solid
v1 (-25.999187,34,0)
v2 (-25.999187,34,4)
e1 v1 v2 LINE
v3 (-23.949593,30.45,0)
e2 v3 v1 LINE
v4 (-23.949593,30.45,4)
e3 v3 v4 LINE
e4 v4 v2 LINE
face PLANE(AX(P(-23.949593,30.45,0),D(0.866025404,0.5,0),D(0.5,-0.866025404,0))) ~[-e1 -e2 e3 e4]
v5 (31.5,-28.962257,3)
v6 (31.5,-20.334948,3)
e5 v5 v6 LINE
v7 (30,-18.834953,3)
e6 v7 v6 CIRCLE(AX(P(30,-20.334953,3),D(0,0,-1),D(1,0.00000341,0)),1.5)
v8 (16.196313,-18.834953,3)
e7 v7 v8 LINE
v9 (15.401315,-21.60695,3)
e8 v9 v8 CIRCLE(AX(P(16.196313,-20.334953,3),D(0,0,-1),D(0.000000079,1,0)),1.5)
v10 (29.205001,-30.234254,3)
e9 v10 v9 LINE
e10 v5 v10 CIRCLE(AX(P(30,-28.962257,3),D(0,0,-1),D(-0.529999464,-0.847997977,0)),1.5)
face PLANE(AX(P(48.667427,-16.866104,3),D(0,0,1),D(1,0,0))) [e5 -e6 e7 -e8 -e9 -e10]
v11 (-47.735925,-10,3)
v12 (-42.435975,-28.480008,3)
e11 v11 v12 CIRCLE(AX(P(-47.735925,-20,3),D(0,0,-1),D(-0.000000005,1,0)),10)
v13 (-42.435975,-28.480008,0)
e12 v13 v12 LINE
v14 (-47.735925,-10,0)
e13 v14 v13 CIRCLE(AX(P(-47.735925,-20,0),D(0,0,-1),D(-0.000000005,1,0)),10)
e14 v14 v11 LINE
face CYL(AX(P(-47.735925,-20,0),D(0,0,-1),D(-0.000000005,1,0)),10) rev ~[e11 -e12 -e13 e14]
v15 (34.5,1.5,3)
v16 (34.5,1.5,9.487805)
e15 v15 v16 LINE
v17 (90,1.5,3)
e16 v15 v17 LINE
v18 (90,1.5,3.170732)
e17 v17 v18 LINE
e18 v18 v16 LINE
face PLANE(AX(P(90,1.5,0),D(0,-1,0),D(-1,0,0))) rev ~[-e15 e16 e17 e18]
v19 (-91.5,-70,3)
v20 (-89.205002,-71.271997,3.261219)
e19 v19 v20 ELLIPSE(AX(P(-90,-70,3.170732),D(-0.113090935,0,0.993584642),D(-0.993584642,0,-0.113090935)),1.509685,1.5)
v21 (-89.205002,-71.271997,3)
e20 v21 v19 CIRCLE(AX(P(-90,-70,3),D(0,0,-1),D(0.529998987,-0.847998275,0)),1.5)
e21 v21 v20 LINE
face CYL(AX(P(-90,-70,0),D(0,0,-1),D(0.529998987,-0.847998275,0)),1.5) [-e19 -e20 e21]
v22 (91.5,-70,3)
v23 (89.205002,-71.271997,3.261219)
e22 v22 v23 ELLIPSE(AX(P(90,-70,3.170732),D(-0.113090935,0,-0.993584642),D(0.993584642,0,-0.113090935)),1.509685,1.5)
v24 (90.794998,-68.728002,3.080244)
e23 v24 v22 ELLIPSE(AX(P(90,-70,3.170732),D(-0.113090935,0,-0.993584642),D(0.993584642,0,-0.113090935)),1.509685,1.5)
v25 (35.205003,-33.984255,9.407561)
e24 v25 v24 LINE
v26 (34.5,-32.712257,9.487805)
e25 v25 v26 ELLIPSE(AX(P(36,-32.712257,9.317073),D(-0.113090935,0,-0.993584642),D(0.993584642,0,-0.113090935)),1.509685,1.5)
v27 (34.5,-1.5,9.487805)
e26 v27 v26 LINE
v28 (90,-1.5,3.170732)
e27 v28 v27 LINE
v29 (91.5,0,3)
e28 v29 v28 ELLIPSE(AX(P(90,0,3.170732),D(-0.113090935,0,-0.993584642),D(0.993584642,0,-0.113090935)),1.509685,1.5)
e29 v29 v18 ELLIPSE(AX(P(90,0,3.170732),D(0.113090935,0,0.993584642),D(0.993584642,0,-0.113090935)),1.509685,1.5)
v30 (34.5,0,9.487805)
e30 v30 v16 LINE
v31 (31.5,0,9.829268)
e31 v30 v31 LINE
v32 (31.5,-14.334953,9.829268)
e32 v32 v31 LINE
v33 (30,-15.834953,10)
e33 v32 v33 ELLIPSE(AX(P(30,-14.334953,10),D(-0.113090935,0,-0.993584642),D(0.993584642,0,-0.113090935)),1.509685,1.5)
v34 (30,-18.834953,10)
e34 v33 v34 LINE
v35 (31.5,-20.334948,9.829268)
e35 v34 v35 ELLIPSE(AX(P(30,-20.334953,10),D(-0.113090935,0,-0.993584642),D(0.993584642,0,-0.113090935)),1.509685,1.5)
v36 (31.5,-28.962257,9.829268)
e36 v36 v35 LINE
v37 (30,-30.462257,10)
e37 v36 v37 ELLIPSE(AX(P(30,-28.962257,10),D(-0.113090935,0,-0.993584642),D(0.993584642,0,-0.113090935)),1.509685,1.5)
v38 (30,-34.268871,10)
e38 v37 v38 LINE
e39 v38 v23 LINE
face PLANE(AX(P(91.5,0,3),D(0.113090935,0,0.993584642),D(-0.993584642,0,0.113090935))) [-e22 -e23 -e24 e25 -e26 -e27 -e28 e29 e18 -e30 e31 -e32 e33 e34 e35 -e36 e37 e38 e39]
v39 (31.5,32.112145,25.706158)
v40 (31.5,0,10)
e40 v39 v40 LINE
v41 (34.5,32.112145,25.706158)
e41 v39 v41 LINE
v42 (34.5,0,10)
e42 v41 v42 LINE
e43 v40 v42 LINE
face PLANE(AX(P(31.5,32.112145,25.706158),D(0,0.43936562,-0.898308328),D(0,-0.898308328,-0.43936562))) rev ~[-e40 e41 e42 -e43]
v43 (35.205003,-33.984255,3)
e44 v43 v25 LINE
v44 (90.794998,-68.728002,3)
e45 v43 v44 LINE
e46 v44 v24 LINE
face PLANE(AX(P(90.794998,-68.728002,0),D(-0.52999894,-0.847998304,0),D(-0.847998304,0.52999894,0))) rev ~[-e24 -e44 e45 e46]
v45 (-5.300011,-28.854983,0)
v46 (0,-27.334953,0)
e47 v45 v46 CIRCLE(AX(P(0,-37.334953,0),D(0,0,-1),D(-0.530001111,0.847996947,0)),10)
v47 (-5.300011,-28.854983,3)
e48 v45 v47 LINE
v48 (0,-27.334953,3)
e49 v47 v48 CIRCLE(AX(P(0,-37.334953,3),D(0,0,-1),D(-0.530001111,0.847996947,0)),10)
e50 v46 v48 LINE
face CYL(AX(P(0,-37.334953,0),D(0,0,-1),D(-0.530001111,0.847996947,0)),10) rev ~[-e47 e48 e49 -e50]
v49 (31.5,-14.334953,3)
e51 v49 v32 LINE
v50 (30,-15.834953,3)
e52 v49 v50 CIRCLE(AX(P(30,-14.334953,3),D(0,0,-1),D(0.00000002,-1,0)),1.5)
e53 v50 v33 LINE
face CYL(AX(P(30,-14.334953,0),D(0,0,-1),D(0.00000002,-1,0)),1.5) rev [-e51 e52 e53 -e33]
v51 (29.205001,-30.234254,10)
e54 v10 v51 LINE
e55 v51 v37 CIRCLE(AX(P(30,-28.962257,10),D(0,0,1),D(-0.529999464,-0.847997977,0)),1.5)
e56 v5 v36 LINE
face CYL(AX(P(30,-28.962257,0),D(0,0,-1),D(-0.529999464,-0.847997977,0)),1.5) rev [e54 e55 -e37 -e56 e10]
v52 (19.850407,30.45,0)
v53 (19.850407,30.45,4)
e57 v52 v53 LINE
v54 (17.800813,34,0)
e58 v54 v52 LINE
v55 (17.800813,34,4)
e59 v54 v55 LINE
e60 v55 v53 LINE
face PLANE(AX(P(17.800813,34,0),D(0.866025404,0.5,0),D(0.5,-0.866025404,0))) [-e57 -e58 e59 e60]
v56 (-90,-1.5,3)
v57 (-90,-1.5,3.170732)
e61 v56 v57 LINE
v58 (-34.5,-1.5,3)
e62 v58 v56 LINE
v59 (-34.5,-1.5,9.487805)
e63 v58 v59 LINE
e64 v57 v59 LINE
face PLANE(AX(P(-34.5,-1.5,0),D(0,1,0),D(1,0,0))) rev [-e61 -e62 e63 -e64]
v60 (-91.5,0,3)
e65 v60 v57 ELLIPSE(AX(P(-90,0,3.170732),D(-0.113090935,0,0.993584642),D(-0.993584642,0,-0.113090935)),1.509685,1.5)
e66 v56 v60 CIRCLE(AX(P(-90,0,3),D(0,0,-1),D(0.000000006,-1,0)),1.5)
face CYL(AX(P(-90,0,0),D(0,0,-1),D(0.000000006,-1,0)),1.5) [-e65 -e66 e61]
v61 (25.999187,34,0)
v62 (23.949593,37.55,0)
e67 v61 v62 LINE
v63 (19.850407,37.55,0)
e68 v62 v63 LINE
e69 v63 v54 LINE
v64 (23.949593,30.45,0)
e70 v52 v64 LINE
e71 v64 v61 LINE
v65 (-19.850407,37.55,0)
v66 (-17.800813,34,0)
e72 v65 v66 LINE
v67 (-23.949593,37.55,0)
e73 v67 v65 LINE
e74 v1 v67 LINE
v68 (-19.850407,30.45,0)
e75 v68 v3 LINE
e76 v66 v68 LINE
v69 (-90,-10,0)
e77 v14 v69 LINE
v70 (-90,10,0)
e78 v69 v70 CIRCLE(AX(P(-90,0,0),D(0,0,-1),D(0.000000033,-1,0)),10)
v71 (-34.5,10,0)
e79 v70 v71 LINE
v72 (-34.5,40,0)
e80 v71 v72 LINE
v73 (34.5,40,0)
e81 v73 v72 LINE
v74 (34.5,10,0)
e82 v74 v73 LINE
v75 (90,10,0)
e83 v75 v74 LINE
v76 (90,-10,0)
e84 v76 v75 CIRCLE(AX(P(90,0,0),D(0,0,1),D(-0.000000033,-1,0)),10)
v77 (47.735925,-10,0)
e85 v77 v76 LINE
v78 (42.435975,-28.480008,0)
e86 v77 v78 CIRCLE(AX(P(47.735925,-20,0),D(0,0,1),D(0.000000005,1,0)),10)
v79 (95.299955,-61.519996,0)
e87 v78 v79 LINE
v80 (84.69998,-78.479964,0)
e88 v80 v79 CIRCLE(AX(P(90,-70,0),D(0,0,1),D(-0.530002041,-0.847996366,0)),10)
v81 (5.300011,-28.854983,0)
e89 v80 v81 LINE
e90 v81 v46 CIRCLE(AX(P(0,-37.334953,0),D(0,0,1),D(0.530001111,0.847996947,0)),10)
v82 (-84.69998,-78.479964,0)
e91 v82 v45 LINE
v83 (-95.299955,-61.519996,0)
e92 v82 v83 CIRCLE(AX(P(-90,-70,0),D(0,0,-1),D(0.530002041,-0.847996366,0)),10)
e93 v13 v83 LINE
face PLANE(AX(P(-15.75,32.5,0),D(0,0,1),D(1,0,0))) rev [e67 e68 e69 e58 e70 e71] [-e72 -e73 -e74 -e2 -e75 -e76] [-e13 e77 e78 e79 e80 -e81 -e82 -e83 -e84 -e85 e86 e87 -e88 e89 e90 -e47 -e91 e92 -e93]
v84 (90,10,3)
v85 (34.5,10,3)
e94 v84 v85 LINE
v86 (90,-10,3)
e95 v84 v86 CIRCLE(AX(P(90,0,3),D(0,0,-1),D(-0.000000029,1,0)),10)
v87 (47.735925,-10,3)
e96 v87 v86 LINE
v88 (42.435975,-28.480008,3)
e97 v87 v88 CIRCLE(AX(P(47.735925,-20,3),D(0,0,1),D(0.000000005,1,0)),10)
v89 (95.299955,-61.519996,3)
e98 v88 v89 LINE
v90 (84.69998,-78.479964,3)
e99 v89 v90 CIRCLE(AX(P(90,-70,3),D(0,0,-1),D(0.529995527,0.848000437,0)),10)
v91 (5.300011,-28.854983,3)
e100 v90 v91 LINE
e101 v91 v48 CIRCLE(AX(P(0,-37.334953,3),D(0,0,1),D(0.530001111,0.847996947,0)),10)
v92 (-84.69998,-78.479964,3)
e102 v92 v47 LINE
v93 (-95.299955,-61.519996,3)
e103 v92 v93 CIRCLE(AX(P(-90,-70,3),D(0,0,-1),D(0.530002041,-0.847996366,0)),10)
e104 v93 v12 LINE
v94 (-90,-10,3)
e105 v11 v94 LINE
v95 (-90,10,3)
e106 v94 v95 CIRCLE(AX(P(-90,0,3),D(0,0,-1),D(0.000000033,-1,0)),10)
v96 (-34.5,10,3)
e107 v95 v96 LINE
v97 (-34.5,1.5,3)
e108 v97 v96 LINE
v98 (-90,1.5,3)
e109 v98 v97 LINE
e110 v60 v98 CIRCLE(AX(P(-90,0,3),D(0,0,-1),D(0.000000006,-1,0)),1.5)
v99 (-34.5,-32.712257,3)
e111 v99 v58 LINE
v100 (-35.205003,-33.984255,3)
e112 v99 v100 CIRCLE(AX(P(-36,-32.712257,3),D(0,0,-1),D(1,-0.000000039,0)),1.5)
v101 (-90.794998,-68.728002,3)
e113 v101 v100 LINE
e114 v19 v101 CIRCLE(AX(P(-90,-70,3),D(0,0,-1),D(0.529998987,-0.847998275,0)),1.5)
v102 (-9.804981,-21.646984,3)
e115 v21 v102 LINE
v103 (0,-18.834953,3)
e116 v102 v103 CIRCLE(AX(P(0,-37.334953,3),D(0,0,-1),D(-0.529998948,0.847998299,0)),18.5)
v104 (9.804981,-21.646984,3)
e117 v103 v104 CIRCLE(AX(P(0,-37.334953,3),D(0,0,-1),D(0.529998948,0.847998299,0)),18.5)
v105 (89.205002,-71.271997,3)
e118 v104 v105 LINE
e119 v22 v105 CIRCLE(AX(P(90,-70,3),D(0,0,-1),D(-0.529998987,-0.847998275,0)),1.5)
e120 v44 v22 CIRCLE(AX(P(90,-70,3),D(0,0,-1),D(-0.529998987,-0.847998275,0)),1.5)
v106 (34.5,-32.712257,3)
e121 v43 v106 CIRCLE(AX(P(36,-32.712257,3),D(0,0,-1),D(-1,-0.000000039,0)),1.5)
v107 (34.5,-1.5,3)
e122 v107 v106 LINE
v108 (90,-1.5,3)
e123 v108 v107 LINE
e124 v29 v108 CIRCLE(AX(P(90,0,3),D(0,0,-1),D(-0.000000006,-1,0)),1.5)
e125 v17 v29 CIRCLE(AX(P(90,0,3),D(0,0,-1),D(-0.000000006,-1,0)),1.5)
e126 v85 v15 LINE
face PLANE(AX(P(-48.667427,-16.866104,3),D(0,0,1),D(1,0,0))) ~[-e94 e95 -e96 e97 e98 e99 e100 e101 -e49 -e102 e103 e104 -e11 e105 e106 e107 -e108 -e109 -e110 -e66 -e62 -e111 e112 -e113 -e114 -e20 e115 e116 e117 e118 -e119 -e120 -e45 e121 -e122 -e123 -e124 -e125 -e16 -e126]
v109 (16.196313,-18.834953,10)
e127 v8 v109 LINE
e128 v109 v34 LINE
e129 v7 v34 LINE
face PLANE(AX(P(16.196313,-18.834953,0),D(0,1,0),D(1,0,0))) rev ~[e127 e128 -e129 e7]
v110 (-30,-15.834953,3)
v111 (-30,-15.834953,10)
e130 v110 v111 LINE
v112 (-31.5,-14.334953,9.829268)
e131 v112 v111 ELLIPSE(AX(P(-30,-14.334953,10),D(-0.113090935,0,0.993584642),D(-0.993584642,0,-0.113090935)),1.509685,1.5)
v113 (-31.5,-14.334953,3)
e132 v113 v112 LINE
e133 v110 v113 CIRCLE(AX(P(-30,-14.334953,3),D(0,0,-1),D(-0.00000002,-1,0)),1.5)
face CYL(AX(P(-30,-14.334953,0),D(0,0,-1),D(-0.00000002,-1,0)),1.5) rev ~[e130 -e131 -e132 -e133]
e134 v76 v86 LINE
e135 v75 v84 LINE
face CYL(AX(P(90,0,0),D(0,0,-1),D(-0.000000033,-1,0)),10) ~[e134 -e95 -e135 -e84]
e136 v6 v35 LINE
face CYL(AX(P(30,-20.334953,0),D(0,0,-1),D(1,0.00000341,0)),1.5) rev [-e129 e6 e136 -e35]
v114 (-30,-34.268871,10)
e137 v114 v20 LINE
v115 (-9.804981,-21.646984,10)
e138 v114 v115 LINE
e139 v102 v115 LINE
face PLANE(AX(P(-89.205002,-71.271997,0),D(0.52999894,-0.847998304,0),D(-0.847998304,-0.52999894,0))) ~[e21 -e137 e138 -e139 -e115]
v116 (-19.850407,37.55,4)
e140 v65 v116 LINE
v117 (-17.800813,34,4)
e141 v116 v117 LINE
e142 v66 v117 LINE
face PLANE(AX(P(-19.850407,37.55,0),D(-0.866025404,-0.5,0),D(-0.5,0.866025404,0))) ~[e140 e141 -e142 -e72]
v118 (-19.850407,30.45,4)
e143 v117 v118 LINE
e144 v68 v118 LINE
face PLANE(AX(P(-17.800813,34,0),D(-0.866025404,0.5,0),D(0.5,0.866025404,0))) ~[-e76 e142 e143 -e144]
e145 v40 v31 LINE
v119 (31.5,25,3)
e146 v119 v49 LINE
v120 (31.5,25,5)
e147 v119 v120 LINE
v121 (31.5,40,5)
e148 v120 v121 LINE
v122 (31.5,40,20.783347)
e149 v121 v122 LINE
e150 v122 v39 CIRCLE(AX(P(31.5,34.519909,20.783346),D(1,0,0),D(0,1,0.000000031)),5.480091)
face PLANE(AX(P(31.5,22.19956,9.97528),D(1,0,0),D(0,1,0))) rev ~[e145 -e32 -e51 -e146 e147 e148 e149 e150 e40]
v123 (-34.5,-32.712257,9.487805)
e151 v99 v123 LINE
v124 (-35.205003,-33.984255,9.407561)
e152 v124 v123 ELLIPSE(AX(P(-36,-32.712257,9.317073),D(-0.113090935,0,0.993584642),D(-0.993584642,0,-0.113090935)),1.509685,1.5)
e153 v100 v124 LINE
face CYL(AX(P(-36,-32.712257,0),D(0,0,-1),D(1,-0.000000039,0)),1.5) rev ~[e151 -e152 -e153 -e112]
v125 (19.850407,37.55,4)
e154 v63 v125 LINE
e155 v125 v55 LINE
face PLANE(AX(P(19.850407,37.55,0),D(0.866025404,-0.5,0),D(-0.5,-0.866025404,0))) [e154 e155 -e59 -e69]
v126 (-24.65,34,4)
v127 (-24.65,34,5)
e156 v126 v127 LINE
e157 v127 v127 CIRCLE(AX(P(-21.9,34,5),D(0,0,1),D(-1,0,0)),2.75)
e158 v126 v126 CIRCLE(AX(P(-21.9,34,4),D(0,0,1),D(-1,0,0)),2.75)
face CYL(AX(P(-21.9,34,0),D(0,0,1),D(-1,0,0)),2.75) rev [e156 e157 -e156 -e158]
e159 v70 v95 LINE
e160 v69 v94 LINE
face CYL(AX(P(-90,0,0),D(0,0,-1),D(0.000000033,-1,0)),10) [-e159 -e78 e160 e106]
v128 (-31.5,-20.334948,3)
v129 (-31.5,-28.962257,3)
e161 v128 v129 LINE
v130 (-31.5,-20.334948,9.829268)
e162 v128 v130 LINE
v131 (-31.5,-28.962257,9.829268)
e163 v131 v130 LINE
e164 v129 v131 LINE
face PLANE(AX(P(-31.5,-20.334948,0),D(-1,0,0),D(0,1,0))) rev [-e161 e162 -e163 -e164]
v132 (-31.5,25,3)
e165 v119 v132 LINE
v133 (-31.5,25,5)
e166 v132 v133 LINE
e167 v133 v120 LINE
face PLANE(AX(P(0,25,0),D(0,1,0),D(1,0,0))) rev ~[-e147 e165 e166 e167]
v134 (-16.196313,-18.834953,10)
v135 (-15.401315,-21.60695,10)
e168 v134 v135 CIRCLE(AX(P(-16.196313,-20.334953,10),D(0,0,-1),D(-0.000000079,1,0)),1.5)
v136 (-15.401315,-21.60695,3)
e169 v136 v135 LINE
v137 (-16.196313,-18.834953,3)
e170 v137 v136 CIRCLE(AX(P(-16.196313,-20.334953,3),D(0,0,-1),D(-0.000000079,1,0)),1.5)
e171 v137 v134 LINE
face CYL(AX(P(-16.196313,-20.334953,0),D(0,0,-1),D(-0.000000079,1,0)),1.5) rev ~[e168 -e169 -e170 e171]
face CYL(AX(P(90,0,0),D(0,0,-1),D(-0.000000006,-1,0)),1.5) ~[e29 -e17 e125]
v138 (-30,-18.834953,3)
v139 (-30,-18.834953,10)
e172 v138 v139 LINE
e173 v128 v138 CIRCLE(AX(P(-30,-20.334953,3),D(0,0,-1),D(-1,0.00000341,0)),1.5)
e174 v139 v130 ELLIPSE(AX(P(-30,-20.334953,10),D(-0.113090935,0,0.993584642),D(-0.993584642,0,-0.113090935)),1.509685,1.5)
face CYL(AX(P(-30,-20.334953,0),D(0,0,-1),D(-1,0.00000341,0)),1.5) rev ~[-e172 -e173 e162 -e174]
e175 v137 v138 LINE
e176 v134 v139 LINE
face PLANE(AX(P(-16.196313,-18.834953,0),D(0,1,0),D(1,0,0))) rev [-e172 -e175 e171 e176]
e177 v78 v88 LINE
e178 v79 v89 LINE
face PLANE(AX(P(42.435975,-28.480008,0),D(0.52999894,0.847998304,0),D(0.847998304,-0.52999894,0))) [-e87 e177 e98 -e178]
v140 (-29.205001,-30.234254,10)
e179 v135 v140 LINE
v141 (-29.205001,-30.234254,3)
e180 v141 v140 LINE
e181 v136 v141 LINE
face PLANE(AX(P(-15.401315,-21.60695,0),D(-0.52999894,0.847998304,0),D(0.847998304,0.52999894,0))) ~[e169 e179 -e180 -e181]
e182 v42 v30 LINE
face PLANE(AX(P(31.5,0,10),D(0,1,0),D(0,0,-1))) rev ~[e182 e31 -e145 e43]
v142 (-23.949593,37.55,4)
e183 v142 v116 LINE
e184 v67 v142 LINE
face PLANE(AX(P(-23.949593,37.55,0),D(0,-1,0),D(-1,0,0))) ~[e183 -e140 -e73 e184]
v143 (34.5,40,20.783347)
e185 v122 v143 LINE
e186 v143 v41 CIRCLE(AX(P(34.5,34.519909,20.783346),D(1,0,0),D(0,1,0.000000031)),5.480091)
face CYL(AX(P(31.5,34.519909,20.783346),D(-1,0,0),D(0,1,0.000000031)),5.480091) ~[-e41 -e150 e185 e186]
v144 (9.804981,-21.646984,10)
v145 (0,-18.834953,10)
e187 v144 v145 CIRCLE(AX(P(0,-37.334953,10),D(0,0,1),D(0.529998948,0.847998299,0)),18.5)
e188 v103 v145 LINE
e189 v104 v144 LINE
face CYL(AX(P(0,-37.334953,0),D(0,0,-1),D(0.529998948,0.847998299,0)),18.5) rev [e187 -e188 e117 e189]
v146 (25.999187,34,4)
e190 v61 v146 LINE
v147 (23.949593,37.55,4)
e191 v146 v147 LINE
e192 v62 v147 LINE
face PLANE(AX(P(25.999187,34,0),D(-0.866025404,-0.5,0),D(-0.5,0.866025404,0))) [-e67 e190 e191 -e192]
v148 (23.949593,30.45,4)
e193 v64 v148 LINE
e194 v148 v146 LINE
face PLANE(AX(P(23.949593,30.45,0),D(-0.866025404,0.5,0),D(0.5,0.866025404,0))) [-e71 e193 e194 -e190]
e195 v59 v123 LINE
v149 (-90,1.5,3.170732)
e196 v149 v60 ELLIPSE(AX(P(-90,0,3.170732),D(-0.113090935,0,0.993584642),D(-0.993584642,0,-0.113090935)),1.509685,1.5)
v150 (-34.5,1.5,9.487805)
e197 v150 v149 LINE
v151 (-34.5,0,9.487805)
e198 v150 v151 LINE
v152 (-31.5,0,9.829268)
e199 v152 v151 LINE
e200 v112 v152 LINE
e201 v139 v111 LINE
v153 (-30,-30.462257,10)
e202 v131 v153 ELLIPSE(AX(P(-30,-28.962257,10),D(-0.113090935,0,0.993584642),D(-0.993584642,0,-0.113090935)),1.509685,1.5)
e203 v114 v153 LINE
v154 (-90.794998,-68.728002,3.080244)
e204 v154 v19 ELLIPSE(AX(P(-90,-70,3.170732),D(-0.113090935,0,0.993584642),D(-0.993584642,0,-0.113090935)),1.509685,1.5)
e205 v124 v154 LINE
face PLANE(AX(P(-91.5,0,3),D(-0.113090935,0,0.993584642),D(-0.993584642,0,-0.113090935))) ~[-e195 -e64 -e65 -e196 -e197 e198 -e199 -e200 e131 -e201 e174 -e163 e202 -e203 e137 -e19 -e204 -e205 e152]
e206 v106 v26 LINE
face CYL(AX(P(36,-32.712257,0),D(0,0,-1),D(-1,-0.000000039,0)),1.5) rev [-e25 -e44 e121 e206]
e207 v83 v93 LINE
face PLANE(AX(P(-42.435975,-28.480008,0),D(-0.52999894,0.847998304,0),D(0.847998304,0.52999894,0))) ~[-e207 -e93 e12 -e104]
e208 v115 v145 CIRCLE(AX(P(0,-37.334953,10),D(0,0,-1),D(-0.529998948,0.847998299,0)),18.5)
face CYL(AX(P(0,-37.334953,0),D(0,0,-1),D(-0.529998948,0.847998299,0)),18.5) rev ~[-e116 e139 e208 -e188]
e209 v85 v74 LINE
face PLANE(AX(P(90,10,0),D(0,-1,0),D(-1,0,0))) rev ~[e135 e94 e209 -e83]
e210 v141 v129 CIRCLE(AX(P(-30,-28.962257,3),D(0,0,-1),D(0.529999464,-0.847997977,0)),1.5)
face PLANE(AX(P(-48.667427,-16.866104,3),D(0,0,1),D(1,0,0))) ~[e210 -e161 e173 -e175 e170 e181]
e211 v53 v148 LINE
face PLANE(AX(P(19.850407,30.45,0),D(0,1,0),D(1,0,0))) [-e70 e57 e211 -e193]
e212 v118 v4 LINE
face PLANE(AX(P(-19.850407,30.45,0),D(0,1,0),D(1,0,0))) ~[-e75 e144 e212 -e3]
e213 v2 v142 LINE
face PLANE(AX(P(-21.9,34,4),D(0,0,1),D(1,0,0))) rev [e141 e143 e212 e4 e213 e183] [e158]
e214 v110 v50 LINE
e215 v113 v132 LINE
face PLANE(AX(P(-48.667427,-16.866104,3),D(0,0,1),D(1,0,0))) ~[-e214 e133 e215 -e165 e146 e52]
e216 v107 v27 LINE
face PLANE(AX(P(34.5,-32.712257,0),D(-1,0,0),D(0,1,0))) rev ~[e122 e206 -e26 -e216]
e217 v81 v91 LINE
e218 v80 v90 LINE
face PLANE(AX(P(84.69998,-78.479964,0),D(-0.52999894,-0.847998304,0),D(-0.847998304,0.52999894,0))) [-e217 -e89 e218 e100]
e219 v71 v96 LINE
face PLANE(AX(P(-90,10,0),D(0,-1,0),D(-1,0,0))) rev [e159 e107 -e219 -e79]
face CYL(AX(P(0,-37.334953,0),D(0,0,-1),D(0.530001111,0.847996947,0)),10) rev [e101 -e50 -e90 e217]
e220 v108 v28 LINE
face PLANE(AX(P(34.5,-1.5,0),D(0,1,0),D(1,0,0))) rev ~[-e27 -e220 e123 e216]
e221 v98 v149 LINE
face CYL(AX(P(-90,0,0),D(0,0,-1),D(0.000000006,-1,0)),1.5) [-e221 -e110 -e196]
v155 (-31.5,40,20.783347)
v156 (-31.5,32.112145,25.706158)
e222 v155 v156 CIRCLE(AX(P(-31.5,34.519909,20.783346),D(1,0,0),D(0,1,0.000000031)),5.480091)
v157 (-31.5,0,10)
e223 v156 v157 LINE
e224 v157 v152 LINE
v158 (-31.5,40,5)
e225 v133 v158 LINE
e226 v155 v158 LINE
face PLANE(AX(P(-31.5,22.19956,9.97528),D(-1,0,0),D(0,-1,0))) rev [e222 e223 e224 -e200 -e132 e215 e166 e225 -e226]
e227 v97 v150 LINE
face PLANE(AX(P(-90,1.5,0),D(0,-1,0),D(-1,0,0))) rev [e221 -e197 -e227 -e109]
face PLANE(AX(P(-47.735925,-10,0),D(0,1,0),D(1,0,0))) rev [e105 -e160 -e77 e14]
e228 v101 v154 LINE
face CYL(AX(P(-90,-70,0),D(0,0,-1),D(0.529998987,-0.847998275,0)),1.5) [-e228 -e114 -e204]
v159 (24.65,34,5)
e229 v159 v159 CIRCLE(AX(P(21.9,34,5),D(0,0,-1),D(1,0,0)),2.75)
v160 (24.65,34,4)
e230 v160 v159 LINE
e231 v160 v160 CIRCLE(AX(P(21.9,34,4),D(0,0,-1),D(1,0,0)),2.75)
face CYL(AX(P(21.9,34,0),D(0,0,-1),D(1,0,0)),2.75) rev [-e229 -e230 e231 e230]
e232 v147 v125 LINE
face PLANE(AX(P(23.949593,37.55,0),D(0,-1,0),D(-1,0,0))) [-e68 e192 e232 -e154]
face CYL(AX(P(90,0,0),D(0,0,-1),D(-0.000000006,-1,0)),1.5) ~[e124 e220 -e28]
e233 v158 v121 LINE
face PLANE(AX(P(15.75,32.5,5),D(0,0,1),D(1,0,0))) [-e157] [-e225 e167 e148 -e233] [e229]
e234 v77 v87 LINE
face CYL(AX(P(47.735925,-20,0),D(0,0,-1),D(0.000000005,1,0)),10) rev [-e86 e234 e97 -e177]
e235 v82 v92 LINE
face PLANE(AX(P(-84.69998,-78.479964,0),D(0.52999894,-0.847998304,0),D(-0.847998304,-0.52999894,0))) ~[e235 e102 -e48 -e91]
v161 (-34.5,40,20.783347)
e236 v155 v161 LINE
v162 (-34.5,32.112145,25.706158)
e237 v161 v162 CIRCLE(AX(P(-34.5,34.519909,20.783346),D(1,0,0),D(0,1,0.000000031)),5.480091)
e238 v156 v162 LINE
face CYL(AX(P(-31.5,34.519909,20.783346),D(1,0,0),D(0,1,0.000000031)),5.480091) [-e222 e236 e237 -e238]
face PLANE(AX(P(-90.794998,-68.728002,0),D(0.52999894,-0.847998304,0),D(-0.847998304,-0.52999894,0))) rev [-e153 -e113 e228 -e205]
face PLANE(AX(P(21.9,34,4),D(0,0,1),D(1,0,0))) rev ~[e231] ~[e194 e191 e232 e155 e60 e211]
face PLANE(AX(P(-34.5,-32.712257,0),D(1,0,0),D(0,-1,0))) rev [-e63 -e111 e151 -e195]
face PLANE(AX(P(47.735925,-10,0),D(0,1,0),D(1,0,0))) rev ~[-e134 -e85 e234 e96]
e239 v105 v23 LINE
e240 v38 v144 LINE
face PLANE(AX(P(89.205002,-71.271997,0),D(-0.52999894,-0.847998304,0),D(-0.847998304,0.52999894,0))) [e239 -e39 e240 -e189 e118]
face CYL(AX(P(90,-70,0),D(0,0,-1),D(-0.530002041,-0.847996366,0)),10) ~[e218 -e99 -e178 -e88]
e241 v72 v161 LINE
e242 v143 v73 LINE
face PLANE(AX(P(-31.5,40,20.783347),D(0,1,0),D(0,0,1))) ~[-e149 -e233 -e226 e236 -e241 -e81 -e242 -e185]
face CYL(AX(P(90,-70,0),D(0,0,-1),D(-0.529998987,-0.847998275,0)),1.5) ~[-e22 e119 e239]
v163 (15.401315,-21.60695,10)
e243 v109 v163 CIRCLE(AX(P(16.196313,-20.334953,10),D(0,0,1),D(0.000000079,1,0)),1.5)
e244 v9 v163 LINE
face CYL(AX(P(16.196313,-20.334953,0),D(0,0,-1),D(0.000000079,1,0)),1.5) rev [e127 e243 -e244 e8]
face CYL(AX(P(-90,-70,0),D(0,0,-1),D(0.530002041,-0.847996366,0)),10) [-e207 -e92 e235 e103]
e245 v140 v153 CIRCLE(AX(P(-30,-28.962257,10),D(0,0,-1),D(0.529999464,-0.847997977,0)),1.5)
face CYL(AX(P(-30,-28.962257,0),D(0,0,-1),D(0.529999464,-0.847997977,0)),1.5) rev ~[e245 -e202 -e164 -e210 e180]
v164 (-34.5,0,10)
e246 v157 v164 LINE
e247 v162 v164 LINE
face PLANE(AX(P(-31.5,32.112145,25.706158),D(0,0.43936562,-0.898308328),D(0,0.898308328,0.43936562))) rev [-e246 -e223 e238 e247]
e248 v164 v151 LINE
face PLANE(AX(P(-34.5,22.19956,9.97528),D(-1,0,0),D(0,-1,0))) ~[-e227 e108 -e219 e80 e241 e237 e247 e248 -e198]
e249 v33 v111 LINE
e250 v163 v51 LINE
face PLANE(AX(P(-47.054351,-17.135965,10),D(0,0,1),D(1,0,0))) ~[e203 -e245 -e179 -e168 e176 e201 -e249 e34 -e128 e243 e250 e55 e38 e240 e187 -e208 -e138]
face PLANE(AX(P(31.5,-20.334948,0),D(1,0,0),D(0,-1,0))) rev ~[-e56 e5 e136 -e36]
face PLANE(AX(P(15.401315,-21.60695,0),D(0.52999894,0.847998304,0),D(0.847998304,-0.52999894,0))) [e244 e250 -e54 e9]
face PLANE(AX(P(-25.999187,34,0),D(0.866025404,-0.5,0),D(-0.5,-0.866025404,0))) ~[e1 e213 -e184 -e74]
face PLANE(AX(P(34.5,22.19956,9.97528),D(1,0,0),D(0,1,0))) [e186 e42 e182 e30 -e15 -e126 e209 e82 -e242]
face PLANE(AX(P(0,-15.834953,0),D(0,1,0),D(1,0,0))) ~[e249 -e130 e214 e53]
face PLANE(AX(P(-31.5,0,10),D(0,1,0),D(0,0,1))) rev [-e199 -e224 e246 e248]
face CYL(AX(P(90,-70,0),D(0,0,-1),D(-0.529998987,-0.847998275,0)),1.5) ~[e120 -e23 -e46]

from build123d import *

# Parameters (mm, degrees)
PAD_DEPTH            = 3
PAD001_DEPTH         = 10
SKETCH008_W          = 31.5
SKETCH008_H          = 15
PAD004_DEPTH         = 5
SKETCH009_R          = 2.75
POCKET002_DEPTH      = 313.05051685
POCKET002_DEPTH_BACK = 323.05051685
POCKET003_DEPTH      = 353.05051685
POCKET003_DEPTH_BACK = 393.05051685
POCKET004_DEPTH      = 4
PAD005_DEPTH         = 3


with BuildPart() as part:
    # Sketch → Pad (new body)
    with BuildSketch(Plane.XY):
        with BuildLine():
            ThreePointArc((89.9999996665, -10), (100, -1.98e-08), (89.9999997062, 10))
            Line((89.9999997062, 10), (31.5, 10))
            Line((31.5, 10), (31.5, 40))
            Line((31.5, 40), (0, 40))
            Line((0, 40), (0, 10))
            Line((0, 10), (0, -27.3349528301))
            ThreePointArc((5.3000111055, -28.854983356), (2.7568374325, -27.7224688967), (0, -27.3349528301))
            Line((84.6999795851, -78.4799636558), (5.3000111055, -28.854983356))
            ThreePointArc((84.6999795851, -78.4799636557), (98.4799840149, -75.2999878403), (95.2999552657, -61.5199956261))
            Line((42.4359754567, -28.4800082454), (95.2999552657, -61.5199956261))
            ThreePointArc((47.7359245737, -10), (38.1234305175, -17.2431977049), (42.4359754568, -28.4800082453))
            Line((47.7359245737, -10), (89.9999996665, -10))
        make_face()
    pad = extrude(amount=PAD_DEPTH)

    # Sketch001 → Pad001 (join)
    with BuildSketch(Plane.XY):
        with BuildLine():
            ThreePointArc((89.2050015192, -71.2719974118), (91.2719974827, -70.7949983672), (90.7949982537, -68.7280024463))
            Line((90.7949982537, -68.7280024463), (35.2050028881, -33.9842553428))
            ThreePointArc((34.5, -32.7122571332), (34.6880366632, -33.4394105688), (35.2050028881, -33.9842553428))
            Line((34.5, -32.7122571332), (34.5, -1.5))
            Line((34.5, -1.5), (89.9999999914, -1.5))
            ThreePointArc((89.9999999914, -1.5), (91.5, -1.09e-08), (90.0000000131, 1.5))
            Line((90.0000000131, 1.5), (34.5, 1.5))
            Line((34.5, 1.5), (34.5, 40))
            Line((34.5, 40), (31.5, 40))
            Line((31.5, 40), (31.5, -14.334953275))
            ThreePointArc((30.0000000301, -15.8349528301), (31.0606600252, -15.3956131485), (31.5, -14.334953275))
            Line((0, -15.8349528301), (30.0000000301, -15.8349528301))
            Line((0, -18.8349528301), (0, -15.8349528301))
            ThreePointArc((9.8049805408, -21.6469843002), (5.1001265767, -19.5518510506), (0, -18.8349528301))
            Line((89.2050015192, -71.2719974118), (9.8049805408, -21.6469843002))
        make_face()
        with BuildLine():
            Line((15.4013148944, -21.6069503467), (29.2050008044, -30.2342540405))
            ThreePointArc((29.2050008044, -30.2342540405), (30.727152292, -30.2742210781), (31.5, -28.9622573074))
            Line((31.5, -20.3349477146), (31.5, -28.9622573074))
            ThreePointArc((31.5, -20.3349477146), (31.0606583181, -19.2742908047), (29.9999998727, -18.8349528301))
            Line((16.1963133258, -18.8349528301), (29.9999998727, -18.8349528301))
            ThreePointArc((16.1963133258, -18.8349528301), (14.7544400888, -19.9214290586), (15.4013148944, -21.6069503467))
        make_face(mode=Mode.SUBTRACT)
    pad001 = extrude(amount=PAD001_DEPTH)

    # Sketch008 → Pad004 (join)
    with BuildSketch(Plane(origin=(0, 30, 0), x_dir=(1, 0, 0), z_dir=(0, 0, 1))):
        with Locations((15.75, 2.5)):
            Rectangle(SKETCH008_W, SKETCH008_H)
    pad004 = extrude(amount=PAD004_DEPTH)

    # Sketch009 → Pocket002 (cut, two sides)
    with BuildSketch(Plane(origin=(0, 30, 0), x_dir=(1, 0, 0), z_dir=(0, 0, 1))) as pocket002_sk:
        with Locations((21.9, 4)):
            Circle(SKETCH009_R)
    pocket002 = extrude(amount=-POCKET002_DEPTH, mode=Mode.SUBTRACT) + extrude(pocket002_sk.sketch, amount=POCKET002_DEPTH_BACK, mode=Mode.SUBTRACT)

    # Sketch010 → Pocket003 (cut, two sides)
    with BuildSketch(Plane.XZ) as pocket003_sk:
        Polygon((91.5, 3), (30, 10), (91.5, 10), align=None)
    pocket003 = extrude(amount=-POCKET003_DEPTH, mode=Mode.SUBTRACT) + extrude(pocket003_sk.sketch, amount=POCKET003_DEPTH_BACK, mode=Mode.SUBTRACT)

    # Sketch012 → Pocket004 (cut)
    with BuildSketch(Plane(origin=(0, 30, 0), x_dir=(1, 0, 0), z_dir=(0, 0, 1))):
        Polygon((23.9495934556, 7.55), (19.8504065444, 7.55), (17.8008130888, 4), (19.8504065444, 0.45), (23.9495934556, 0.45), (25.9991869112, 4), align=None)
    pocket004 = extrude(amount=POCKET004_DEPTH, mode=Mode.SUBTRACT)

    # Sketch013 → Pad005 (join)
    with BuildSketch(Plane.YZ.offset(31.5)):
        with BuildLine():
            ThreePointArc((40, 20.7833465364), (37.421342396, 25.4323336669), (32.1121450336, 25.706157964))
            Line((32.1121450336, 25.706157964), (0, 10))
            Line((0, 10), (0, 0))
            Line((0, 0), (40, 0))
            Line((40, 20.7833465364), (40, 0))
        make_face()
    pad005 = extrude(amount=PAD005_DEPTH)

    # Mirrored: Pad, Pad001, Pad004, Pocket002, Pocket003, Pocket004, Pad005 across Sketch V_Axis
    add(pad.mirror(Plane(origin=(0, 0, 0), x_dir=(0, 0, 1), z_dir=(1, 0, 0))))
    add(pad001.mirror(Plane(origin=(0, 0, 0), x_dir=(0, 0, 1), z_dir=(1, 0, 0))))
    add(pad004.mirror(Plane(origin=(0, 0, 0), x_dir=(0, 0, 1), z_dir=(1, 0, 0))))
    add(pocket002.mirror(Plane(origin=(0, 0, 0), x_dir=(0, 0, 1), z_dir=(1, 0, 0))), mode=Mode.SUBTRACT)
    add(pocket003.mirror(Plane(origin=(0, 0, 0), x_dir=(0, 0, 1), z_dir=(1, 0, 0))), mode=Mode.SUBTRACT)
    add(pocket004.mirror(Plane(origin=(0, 0, 0), x_dir=(0, 0, 1), z_dir=(1, 0, 0))), mode=Mode.SUBTRACT)
    add(pad005.mirror(Plane(origin=(0, 0, 0), x_dir=(0, 0, 1), z_dir=(1, 0, 0))))


solid = part.part
